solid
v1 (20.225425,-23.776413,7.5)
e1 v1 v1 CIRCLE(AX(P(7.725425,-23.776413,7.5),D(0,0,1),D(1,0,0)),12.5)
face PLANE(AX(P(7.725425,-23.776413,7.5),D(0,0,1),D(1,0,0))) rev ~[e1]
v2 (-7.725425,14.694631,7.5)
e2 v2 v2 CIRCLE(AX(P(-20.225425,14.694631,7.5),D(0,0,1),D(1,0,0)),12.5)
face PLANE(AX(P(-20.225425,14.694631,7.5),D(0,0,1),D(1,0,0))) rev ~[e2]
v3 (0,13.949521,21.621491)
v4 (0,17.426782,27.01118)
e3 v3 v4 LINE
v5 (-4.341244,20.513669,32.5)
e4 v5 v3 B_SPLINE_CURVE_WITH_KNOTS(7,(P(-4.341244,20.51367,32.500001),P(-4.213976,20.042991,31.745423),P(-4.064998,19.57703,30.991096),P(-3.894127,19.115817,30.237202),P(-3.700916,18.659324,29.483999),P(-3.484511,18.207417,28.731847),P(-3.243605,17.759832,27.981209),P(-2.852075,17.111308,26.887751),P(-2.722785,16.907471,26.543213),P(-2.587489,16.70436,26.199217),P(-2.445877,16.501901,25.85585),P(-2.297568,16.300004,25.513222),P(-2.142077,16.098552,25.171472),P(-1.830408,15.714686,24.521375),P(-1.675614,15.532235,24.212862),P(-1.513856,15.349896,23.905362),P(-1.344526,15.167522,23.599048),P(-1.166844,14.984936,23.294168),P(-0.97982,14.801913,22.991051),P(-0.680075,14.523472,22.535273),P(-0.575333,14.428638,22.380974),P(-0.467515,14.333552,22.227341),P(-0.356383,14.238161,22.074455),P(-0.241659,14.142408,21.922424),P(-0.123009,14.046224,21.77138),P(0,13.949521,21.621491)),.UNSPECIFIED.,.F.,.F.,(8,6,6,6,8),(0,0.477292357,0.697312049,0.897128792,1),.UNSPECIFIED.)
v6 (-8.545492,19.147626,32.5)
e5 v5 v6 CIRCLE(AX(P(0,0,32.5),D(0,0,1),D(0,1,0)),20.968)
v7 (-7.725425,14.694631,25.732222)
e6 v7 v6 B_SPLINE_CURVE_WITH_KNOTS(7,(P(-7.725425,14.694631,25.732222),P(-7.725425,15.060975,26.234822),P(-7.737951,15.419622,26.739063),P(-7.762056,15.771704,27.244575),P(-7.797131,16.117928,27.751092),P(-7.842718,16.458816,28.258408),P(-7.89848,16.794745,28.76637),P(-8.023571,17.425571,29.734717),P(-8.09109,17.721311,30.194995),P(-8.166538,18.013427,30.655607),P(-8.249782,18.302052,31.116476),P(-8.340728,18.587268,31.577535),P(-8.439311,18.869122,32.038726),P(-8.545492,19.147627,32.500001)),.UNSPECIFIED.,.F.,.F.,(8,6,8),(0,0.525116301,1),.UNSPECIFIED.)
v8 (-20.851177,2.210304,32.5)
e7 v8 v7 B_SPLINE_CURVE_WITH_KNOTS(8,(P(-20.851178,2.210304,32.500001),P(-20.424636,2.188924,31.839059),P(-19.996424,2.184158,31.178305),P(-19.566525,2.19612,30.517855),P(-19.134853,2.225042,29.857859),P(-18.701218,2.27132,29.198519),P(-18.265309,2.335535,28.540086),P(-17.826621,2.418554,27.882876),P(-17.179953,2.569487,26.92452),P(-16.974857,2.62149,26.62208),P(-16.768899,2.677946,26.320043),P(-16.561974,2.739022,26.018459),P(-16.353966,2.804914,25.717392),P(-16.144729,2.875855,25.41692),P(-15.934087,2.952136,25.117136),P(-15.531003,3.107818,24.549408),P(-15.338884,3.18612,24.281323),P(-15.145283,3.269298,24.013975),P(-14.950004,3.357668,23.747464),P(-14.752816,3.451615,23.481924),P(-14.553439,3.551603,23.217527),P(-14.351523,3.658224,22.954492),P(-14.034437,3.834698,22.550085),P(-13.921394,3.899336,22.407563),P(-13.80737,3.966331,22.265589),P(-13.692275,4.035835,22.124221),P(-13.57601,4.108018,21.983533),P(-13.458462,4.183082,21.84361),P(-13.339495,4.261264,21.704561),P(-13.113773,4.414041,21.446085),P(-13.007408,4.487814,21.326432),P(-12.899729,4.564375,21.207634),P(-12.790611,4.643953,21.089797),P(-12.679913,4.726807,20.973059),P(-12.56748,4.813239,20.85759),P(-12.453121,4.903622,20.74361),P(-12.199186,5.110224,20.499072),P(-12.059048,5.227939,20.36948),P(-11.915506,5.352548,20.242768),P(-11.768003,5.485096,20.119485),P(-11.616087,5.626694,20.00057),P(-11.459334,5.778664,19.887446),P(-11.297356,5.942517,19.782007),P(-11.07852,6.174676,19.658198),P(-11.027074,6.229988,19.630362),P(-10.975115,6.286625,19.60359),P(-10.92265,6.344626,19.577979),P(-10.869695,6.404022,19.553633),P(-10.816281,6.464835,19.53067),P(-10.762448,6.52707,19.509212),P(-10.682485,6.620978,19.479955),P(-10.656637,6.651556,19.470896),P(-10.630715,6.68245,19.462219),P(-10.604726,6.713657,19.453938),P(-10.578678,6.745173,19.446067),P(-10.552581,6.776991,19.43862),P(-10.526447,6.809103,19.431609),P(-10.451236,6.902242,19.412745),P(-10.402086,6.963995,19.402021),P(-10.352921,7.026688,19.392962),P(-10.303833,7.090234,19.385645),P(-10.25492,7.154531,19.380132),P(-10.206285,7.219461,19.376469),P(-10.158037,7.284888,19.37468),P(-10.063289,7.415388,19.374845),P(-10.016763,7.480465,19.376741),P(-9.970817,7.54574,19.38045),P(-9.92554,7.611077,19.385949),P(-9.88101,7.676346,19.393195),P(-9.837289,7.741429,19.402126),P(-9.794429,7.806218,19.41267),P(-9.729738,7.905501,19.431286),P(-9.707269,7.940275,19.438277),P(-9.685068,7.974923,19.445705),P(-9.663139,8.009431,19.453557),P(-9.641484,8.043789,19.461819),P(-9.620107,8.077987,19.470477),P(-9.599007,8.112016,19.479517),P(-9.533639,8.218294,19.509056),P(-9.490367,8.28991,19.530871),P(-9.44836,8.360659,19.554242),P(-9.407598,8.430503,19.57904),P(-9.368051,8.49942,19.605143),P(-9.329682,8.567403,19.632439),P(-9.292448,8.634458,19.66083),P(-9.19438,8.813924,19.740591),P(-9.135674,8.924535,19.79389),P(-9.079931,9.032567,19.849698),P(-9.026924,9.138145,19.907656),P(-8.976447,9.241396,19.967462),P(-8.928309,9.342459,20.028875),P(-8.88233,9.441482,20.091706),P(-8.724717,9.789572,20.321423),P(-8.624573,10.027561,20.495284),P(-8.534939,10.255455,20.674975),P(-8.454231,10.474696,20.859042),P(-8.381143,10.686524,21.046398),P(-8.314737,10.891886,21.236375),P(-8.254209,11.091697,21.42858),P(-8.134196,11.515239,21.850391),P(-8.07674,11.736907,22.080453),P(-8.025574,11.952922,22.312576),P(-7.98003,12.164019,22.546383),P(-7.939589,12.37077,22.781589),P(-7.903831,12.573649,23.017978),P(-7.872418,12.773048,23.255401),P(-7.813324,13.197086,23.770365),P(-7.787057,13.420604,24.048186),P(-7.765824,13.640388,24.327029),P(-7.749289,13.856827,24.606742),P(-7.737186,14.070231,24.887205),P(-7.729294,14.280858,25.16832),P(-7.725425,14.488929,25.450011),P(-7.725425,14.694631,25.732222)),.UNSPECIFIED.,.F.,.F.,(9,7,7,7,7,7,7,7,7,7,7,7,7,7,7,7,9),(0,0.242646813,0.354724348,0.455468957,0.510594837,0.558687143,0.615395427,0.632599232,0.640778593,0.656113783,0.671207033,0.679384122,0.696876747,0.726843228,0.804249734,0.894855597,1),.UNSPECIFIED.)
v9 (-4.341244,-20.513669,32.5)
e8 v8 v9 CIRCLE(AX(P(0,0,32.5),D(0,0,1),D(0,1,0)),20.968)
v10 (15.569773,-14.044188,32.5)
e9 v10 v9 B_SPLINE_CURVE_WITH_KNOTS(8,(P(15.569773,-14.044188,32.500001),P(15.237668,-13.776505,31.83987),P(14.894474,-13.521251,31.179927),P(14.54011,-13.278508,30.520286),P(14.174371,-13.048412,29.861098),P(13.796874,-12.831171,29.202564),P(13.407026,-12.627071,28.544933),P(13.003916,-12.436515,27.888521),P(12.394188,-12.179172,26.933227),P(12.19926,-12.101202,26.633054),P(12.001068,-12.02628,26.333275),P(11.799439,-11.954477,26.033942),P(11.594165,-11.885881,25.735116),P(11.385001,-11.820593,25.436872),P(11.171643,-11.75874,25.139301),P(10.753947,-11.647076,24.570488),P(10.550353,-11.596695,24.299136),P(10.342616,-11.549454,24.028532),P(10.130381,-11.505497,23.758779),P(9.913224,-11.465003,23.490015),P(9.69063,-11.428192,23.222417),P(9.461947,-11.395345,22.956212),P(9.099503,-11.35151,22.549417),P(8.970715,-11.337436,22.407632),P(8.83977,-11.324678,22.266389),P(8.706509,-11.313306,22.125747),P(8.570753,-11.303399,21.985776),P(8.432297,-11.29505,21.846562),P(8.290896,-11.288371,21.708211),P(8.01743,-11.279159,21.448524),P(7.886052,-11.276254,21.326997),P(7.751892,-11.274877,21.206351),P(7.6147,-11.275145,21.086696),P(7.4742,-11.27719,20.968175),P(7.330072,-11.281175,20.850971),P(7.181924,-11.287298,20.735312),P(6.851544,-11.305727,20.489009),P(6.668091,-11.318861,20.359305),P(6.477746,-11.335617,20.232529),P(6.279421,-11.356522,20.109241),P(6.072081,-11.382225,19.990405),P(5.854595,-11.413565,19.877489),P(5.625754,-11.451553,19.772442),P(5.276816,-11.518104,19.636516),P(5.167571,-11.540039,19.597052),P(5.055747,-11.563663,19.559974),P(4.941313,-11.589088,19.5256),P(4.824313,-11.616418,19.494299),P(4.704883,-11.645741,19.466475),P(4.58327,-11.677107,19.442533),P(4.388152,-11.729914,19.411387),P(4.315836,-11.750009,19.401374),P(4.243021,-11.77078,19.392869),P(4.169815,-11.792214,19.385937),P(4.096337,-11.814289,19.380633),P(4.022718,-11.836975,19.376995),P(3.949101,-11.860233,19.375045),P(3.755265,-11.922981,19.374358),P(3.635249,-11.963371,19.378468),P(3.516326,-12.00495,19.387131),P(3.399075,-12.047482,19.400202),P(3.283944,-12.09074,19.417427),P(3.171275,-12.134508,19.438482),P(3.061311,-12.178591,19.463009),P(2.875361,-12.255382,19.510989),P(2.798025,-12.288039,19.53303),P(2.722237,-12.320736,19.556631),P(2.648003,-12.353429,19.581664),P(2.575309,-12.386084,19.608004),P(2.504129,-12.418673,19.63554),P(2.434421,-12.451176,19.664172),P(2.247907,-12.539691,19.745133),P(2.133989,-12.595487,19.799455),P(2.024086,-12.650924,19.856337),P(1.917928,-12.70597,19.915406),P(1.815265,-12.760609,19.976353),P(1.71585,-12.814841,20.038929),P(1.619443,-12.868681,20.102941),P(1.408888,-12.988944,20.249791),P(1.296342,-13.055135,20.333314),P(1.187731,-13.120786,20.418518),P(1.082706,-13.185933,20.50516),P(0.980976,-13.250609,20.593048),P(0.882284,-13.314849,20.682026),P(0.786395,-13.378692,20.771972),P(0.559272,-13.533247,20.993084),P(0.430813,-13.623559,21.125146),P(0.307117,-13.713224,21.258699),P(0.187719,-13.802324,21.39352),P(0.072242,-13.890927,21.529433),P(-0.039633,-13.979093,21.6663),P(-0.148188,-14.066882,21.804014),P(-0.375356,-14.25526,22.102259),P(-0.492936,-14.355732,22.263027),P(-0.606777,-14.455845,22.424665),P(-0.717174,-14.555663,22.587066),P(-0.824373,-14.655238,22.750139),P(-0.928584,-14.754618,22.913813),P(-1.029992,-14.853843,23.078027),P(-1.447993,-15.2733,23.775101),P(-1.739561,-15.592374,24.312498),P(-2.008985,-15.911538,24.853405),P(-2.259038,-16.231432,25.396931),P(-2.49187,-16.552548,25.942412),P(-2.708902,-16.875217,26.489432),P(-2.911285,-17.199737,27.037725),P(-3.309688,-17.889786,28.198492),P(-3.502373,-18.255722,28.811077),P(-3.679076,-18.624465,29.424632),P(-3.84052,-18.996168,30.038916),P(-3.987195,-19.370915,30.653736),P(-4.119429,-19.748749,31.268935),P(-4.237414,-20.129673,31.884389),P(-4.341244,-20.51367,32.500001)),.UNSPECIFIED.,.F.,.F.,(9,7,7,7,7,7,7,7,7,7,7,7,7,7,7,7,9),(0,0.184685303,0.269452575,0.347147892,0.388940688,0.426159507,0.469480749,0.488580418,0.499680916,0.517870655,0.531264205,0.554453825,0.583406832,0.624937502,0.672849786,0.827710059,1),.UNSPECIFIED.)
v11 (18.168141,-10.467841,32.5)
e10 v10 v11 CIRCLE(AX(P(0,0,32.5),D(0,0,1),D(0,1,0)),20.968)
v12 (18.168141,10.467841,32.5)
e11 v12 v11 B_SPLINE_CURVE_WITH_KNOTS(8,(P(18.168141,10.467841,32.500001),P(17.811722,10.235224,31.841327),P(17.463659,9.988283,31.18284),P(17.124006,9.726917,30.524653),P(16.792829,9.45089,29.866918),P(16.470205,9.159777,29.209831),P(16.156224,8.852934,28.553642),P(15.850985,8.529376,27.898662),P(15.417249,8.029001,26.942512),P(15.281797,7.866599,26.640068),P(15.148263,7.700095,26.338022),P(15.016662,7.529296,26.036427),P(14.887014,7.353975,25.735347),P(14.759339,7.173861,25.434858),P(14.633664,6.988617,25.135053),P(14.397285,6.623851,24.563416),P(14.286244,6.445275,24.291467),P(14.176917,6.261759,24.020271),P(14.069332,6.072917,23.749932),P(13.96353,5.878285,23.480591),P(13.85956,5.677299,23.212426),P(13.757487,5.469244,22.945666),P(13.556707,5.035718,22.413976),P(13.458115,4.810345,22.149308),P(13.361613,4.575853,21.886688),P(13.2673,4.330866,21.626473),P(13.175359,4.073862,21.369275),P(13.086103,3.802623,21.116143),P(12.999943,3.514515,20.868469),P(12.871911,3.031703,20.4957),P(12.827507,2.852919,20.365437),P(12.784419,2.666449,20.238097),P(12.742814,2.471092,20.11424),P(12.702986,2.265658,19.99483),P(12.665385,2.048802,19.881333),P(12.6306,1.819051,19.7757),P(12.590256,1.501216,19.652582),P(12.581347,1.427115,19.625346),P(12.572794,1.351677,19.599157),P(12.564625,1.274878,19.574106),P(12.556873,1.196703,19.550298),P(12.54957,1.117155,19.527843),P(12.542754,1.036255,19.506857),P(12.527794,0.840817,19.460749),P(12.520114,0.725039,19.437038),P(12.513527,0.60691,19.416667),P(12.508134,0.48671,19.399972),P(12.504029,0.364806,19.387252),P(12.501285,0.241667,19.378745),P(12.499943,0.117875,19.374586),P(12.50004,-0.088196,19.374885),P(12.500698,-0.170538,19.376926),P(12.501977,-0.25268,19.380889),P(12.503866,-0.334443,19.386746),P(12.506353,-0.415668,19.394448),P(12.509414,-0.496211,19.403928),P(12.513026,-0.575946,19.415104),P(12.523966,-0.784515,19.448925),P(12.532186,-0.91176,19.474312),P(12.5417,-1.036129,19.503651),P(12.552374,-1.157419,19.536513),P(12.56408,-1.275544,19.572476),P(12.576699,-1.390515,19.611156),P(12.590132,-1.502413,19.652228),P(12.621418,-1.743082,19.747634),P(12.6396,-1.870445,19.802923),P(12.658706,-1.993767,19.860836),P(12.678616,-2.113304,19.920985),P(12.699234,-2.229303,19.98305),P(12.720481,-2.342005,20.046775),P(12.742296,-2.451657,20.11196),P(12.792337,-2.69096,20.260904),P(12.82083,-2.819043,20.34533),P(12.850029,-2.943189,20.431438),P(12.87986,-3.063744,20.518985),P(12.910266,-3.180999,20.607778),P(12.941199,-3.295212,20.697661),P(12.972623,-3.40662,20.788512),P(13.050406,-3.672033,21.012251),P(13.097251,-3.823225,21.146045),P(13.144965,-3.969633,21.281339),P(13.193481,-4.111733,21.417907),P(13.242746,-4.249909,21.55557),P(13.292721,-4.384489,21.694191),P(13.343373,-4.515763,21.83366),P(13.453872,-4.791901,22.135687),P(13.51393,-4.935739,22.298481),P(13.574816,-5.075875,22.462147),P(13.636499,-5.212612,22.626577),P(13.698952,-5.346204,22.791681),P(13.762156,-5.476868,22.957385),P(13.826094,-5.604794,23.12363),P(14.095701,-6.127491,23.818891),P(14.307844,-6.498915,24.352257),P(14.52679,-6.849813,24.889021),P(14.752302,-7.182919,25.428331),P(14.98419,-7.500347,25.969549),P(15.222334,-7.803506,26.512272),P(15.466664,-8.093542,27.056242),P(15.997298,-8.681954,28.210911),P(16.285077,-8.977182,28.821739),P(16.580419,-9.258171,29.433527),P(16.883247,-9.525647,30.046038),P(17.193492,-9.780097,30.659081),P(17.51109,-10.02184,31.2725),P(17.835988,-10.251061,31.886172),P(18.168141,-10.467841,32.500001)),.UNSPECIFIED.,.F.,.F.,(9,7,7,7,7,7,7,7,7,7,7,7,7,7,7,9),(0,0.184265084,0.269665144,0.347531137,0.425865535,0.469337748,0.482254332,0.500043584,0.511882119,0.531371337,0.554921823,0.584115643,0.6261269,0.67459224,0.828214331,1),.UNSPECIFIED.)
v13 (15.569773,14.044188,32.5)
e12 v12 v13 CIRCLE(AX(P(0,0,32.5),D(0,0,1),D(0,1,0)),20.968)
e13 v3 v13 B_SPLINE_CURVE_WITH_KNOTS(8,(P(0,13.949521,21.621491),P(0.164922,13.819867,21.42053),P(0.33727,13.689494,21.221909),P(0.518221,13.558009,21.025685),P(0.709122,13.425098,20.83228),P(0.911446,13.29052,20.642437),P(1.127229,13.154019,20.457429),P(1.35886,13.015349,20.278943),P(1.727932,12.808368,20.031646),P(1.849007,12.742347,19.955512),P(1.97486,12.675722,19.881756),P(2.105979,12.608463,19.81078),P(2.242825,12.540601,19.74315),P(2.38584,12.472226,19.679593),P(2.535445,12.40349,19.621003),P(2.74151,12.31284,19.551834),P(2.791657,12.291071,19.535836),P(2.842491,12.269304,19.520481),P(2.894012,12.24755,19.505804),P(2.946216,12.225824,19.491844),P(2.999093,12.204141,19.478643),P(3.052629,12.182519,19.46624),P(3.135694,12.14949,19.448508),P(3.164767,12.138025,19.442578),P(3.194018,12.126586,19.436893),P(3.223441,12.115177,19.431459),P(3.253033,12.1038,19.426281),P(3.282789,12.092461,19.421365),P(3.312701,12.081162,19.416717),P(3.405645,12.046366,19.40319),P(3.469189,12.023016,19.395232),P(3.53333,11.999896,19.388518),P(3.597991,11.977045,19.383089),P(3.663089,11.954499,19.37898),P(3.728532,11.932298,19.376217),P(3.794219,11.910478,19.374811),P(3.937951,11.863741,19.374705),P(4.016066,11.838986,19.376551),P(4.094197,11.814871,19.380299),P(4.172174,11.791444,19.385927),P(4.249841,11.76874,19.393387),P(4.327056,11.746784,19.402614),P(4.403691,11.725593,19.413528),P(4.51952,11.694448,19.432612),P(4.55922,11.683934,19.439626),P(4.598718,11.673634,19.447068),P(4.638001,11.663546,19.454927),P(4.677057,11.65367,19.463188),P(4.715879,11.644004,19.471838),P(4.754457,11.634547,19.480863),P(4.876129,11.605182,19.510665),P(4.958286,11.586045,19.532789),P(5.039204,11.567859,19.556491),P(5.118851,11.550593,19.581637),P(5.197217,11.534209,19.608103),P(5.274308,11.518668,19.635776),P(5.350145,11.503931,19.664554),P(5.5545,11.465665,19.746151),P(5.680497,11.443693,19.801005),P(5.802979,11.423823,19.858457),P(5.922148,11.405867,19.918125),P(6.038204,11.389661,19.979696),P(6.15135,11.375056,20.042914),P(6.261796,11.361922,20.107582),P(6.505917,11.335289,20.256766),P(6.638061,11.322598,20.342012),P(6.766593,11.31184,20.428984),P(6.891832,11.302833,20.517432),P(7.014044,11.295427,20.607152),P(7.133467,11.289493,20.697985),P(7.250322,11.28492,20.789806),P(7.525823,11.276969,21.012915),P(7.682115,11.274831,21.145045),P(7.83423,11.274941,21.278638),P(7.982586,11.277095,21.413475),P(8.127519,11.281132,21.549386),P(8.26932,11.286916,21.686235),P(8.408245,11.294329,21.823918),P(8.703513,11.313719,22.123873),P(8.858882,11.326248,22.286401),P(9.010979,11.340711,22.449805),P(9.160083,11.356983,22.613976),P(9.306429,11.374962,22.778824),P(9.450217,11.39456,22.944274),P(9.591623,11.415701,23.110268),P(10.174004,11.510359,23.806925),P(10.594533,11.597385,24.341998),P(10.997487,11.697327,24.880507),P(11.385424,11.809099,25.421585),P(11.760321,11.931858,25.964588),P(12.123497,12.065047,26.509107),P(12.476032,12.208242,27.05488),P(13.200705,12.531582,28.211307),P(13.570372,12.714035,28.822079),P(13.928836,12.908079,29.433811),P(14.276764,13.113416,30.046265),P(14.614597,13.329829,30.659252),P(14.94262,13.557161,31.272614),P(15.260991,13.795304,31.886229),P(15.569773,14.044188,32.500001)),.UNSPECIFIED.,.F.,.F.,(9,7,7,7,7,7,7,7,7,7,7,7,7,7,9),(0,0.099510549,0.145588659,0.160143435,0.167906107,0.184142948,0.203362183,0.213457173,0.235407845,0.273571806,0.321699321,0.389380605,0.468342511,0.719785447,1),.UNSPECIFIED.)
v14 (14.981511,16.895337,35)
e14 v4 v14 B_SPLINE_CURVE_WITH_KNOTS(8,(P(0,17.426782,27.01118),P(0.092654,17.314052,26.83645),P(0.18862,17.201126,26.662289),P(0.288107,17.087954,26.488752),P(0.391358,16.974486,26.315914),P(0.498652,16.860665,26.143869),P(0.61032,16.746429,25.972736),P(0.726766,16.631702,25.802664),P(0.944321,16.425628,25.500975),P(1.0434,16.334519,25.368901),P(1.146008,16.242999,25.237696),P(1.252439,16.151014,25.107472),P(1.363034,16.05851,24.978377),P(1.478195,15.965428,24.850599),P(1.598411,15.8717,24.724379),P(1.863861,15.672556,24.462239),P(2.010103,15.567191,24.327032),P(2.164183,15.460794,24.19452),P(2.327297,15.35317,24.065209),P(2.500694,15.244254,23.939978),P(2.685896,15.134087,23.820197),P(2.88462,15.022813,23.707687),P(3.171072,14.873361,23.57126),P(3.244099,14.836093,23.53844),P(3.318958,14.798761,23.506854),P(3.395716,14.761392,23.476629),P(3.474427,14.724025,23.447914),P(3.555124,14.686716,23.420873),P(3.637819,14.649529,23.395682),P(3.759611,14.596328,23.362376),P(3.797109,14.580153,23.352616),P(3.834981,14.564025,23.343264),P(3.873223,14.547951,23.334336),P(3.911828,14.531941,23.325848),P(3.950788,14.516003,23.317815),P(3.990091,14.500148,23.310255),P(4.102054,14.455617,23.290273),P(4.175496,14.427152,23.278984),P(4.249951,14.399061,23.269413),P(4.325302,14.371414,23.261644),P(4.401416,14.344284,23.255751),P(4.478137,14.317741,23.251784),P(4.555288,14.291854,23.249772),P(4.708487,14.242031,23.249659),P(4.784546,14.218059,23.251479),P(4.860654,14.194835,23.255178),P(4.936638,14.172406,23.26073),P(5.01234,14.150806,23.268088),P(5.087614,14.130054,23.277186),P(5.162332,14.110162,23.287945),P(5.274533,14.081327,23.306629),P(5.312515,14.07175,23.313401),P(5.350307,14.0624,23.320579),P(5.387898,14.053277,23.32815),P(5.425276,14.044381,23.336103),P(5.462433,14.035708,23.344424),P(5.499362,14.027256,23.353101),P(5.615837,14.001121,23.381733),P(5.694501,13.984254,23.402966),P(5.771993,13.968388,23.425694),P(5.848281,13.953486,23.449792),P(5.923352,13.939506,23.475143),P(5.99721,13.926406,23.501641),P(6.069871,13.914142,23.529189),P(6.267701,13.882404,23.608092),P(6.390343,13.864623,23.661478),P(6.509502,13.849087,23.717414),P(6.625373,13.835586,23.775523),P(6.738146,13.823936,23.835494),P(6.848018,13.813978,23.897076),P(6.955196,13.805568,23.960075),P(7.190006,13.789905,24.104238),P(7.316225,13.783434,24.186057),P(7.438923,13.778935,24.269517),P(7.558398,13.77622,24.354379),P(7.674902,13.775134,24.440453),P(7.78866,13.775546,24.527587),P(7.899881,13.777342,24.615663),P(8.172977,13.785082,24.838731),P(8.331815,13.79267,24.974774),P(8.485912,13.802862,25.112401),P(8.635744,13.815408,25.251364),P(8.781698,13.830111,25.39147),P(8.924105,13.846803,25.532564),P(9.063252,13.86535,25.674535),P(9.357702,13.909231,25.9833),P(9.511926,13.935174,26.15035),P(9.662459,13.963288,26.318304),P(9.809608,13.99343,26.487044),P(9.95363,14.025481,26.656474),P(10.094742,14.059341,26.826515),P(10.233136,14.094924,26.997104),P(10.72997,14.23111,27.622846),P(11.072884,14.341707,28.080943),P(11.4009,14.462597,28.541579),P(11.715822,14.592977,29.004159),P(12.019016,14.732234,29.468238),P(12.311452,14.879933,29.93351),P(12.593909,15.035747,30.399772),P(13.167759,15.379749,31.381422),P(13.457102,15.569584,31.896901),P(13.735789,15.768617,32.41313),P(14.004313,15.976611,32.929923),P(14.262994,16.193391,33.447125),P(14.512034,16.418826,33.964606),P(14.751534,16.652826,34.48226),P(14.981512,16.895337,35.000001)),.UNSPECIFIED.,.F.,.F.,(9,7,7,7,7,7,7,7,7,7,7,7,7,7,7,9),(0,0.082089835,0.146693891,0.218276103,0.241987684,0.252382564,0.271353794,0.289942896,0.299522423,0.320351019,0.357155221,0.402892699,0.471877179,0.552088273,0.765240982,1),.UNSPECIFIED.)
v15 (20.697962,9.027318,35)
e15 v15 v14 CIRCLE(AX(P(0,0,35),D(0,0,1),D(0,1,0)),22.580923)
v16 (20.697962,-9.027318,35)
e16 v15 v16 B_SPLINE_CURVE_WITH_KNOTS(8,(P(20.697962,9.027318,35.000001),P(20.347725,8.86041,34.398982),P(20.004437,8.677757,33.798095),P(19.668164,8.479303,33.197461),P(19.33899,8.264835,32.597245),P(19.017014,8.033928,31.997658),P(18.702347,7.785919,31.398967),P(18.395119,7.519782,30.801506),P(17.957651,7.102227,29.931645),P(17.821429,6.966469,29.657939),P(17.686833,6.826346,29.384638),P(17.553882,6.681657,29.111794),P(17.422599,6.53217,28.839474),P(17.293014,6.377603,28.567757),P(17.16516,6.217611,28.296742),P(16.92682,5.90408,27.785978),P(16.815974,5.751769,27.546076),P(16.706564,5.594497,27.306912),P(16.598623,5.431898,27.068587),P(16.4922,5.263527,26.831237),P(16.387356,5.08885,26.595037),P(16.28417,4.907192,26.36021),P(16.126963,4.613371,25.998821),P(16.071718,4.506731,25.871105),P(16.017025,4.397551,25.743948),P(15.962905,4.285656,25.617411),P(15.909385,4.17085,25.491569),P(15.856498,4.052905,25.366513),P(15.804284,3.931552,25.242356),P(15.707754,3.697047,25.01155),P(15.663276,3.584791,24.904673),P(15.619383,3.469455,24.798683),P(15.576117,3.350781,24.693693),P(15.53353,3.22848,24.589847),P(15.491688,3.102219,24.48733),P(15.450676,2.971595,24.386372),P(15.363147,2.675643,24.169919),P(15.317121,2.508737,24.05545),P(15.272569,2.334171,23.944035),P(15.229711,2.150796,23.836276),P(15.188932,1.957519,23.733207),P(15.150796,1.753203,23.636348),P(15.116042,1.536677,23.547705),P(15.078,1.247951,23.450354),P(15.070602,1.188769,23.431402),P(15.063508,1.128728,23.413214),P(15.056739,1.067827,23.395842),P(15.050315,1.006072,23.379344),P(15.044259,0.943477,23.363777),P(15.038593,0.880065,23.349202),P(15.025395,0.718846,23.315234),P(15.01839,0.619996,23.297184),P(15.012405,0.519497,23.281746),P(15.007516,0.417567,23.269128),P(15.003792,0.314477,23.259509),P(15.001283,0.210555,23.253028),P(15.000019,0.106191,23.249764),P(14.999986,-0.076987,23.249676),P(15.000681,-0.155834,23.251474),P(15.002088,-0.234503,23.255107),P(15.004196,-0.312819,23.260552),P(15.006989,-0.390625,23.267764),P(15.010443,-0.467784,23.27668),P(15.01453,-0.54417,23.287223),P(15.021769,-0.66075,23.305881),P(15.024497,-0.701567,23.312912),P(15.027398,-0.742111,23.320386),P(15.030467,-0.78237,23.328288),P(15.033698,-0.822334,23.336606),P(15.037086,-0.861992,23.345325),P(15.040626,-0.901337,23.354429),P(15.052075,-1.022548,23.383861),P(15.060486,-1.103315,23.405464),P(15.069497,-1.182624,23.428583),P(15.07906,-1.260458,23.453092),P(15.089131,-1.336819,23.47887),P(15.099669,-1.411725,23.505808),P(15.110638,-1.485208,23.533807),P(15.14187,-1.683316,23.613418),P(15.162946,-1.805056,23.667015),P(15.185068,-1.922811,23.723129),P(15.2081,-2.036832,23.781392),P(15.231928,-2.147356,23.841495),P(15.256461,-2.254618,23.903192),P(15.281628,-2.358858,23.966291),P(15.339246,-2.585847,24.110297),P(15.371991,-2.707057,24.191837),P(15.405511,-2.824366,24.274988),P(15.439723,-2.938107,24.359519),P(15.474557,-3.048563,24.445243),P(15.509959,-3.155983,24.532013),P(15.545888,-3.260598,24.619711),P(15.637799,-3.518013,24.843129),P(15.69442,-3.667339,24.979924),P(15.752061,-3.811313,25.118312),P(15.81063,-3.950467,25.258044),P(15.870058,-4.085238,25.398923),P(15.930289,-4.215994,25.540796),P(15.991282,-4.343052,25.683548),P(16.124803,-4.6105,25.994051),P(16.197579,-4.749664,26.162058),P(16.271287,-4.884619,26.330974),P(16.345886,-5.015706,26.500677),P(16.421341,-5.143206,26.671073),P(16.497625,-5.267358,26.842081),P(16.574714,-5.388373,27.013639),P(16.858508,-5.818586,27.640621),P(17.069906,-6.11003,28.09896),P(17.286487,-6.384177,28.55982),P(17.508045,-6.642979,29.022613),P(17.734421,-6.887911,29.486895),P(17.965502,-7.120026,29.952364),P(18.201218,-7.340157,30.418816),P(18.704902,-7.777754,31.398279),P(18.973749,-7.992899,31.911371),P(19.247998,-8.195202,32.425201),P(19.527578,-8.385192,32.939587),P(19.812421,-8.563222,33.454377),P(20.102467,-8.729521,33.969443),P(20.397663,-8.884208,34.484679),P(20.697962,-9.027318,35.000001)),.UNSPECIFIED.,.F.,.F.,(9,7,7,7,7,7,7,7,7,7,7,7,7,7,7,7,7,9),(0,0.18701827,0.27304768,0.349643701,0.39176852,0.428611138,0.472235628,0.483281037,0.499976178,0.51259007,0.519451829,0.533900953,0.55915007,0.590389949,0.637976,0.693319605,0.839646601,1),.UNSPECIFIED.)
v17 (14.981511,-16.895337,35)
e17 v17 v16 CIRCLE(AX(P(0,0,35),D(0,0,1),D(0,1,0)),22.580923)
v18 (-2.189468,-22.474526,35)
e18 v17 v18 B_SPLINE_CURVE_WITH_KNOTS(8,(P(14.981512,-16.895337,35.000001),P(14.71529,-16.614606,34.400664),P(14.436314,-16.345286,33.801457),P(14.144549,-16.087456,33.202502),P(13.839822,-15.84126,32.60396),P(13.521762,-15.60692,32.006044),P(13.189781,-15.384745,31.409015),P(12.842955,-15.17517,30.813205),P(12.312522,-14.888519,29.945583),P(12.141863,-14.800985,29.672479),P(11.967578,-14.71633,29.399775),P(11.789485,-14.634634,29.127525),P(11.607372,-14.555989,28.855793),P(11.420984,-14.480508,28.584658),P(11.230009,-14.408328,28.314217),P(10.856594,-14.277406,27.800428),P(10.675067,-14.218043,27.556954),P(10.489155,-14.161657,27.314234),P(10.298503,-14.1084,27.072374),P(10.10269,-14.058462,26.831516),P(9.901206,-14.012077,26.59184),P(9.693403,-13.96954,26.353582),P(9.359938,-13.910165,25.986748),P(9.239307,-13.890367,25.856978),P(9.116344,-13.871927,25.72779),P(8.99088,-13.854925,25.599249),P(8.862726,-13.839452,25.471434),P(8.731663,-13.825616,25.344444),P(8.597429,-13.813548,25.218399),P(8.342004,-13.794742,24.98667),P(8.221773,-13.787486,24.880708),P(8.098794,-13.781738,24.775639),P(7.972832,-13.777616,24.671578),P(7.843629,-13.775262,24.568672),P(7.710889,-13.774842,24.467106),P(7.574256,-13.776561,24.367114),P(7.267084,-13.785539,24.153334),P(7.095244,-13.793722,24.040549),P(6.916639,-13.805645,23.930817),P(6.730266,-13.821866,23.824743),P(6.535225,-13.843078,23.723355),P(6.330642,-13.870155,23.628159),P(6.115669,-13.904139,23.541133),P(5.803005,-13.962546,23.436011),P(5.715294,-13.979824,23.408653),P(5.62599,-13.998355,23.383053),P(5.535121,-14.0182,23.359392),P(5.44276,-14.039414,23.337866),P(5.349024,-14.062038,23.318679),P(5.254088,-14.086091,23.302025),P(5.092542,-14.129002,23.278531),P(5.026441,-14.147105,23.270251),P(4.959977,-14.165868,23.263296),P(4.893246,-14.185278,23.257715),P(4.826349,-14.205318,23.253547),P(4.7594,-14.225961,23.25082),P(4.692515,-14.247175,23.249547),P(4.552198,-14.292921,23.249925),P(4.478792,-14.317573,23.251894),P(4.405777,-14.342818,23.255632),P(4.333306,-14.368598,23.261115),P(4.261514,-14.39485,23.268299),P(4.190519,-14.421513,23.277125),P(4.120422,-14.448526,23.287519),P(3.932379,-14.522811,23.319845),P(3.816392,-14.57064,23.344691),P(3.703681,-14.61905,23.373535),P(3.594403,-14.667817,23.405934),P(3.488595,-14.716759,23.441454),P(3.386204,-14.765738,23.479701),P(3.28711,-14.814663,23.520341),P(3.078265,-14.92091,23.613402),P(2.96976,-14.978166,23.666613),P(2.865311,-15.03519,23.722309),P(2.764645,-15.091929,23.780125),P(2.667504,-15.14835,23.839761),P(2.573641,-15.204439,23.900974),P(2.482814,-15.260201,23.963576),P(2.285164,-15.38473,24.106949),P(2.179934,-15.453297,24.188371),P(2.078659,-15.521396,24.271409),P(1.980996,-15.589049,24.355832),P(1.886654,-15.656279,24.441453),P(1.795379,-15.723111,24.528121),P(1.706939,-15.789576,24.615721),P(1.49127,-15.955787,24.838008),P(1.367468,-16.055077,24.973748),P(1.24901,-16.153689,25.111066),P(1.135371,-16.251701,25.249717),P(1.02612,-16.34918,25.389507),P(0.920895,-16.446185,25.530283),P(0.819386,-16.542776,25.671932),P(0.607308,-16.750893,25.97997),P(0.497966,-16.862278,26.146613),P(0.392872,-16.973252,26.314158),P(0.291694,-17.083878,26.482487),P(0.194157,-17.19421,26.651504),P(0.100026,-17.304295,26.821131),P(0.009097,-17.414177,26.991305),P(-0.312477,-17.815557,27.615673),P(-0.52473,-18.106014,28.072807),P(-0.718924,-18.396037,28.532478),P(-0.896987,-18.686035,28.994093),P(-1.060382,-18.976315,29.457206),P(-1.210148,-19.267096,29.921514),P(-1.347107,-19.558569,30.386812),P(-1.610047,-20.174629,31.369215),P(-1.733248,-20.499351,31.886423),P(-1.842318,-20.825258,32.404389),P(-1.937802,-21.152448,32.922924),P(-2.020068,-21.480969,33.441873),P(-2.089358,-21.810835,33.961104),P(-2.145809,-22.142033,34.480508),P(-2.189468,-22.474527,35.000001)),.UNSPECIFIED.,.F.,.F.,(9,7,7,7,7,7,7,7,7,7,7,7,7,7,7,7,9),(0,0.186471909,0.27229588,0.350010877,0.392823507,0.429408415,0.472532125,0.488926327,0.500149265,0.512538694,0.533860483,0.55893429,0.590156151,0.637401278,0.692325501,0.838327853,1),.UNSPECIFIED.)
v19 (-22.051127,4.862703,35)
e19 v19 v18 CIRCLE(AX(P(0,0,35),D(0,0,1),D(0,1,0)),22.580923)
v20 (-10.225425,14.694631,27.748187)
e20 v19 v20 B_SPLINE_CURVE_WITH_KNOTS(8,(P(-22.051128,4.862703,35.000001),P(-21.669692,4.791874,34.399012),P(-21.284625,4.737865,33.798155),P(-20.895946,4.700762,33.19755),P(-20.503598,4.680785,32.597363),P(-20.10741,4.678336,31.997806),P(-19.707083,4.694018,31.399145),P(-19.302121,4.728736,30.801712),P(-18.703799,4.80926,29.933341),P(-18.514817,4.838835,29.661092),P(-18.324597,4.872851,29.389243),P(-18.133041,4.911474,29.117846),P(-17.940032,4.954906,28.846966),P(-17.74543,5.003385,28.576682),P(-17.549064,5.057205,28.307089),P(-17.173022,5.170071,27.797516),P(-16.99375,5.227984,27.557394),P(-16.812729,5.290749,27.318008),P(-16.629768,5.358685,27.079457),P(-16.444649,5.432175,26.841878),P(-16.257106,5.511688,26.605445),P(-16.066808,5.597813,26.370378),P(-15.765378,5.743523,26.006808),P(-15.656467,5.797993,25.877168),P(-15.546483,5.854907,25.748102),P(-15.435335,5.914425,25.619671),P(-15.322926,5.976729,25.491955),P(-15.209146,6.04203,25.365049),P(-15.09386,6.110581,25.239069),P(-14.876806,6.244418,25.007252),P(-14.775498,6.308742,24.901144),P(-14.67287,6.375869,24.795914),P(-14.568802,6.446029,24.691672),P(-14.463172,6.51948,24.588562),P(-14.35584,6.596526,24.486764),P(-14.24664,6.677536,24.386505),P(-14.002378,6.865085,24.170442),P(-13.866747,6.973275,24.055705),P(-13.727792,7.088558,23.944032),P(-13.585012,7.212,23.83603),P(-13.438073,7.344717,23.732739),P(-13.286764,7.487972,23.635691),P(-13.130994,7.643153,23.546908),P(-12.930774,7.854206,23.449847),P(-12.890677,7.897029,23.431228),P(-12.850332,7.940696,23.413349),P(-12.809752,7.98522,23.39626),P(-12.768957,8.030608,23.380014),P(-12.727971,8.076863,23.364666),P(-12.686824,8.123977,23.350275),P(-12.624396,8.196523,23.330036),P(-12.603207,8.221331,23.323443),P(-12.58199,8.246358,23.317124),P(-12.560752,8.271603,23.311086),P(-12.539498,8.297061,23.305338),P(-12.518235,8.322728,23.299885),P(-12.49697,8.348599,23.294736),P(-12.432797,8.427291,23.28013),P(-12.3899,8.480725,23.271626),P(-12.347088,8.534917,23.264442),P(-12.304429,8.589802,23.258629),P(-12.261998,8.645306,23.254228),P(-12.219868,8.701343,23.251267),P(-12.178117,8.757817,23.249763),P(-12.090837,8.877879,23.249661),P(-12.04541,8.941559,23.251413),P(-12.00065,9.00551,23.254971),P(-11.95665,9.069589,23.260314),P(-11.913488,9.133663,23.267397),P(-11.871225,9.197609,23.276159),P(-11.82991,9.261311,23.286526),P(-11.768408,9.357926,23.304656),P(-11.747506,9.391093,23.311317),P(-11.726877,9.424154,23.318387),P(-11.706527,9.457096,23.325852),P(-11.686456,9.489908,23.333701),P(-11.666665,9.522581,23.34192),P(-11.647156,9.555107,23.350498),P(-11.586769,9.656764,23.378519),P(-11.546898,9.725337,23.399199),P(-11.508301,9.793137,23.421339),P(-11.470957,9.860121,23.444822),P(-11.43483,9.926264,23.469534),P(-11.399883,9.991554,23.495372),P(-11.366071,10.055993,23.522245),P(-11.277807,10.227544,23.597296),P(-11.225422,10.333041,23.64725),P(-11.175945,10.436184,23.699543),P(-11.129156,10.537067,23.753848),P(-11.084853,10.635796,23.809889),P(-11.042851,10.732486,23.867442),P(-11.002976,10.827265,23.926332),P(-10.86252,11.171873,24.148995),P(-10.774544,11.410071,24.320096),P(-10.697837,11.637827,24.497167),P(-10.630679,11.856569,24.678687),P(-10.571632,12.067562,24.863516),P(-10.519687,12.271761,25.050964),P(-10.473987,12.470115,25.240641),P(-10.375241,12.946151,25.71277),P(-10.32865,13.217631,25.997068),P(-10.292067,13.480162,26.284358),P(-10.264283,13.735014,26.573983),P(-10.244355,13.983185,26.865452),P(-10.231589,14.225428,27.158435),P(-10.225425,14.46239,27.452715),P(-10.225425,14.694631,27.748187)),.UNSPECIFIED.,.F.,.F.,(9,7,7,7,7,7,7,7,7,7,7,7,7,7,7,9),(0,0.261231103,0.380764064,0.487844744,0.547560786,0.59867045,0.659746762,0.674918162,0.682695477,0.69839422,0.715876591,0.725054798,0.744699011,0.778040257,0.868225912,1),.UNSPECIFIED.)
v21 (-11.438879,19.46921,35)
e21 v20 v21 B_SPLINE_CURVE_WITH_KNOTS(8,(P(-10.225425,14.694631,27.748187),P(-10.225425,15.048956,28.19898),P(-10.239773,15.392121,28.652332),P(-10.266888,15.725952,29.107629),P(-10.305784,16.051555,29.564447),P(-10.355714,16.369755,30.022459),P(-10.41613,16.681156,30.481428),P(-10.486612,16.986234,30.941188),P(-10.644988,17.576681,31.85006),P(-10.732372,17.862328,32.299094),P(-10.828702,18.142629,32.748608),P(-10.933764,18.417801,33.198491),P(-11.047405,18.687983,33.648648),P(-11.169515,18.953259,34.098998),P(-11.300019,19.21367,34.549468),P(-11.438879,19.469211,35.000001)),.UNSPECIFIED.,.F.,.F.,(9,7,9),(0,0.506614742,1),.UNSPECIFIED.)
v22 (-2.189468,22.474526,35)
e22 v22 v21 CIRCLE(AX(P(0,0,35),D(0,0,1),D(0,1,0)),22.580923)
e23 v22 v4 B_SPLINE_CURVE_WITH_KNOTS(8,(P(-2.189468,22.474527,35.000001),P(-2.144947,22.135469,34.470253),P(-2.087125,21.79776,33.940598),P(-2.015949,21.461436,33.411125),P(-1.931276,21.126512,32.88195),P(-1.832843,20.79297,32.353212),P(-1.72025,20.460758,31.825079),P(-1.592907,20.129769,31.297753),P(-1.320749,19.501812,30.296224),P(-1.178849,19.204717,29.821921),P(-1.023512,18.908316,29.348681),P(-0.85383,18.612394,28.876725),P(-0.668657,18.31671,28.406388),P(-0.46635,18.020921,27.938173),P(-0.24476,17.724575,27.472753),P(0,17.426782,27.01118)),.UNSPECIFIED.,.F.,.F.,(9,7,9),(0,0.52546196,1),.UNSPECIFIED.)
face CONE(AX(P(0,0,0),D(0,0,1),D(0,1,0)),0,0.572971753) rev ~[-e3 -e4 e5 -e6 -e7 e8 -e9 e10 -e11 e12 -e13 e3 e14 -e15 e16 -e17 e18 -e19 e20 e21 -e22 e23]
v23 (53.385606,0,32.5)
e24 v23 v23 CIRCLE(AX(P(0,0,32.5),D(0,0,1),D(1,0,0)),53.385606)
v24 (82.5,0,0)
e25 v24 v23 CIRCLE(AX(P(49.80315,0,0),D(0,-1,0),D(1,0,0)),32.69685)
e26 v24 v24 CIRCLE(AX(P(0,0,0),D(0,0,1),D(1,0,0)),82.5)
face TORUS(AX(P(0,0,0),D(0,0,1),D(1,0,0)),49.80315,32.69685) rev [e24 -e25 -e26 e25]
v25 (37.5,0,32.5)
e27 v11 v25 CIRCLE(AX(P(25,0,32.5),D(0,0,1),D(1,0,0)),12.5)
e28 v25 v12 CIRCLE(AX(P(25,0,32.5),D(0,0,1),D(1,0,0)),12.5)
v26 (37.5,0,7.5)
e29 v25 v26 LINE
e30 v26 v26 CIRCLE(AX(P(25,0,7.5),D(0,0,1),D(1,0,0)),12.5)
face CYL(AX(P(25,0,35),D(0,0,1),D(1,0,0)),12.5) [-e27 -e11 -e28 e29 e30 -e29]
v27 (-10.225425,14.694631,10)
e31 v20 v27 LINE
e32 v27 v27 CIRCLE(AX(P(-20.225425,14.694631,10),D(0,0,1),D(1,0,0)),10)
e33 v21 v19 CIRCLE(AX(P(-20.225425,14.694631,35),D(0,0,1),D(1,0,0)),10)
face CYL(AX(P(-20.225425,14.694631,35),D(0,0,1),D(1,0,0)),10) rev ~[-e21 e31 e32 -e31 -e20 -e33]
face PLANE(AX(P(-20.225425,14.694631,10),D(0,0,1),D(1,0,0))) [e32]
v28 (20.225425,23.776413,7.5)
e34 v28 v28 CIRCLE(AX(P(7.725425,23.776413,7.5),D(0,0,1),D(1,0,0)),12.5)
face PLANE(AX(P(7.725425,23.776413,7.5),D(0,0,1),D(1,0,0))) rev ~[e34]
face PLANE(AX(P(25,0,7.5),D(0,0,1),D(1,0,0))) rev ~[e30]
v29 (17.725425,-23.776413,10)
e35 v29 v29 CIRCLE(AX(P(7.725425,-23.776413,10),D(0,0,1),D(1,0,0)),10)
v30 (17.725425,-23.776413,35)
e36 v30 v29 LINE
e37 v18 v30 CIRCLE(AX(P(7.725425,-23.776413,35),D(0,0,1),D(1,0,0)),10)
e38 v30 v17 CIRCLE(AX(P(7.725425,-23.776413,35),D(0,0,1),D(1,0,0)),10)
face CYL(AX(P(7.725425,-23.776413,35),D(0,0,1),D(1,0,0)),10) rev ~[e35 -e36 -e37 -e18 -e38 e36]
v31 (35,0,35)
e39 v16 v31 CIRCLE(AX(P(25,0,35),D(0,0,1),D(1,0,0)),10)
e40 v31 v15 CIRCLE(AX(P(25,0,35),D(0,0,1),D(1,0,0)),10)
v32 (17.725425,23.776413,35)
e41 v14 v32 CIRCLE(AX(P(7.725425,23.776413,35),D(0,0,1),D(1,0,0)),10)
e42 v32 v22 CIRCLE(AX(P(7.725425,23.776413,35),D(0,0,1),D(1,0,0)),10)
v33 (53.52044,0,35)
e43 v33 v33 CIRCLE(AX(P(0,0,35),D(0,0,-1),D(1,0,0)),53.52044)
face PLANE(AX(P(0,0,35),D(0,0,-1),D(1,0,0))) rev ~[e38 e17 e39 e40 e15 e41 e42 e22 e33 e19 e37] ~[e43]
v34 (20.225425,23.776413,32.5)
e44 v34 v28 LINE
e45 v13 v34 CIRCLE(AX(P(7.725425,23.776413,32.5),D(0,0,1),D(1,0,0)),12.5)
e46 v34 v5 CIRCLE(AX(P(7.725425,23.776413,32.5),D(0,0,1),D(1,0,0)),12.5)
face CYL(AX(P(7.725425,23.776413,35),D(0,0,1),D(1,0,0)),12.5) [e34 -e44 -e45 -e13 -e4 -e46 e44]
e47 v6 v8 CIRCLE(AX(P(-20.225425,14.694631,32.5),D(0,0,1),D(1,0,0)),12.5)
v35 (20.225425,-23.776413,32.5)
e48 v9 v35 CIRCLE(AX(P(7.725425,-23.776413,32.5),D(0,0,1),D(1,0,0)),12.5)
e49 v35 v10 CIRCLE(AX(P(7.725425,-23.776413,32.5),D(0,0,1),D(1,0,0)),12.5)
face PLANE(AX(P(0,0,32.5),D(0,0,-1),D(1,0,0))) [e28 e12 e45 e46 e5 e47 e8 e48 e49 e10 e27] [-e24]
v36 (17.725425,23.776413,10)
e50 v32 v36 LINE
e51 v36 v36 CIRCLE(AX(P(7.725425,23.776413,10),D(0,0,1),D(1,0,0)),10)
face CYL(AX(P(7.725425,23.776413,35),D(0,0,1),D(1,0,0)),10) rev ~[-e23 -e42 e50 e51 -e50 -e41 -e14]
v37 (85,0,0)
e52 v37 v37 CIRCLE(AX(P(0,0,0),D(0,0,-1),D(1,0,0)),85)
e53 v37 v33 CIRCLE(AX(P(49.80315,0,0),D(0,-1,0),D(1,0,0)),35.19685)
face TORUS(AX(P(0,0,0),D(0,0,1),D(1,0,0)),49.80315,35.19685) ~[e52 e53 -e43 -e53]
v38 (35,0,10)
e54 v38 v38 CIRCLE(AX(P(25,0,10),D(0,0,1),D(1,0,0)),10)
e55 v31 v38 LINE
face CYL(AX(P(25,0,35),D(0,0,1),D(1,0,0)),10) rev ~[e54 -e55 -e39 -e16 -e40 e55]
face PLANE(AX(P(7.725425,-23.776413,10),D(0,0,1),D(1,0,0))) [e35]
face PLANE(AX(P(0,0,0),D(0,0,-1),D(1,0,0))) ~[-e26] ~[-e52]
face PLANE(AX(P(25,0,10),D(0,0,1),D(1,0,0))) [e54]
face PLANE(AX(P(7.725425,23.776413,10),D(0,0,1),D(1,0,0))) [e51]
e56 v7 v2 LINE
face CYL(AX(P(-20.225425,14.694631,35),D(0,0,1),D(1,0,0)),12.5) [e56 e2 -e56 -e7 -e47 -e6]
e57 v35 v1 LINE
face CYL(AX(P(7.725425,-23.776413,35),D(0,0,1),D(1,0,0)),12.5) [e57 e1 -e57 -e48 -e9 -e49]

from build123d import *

# Parameters (mm, degrees)
F2_R     = 10
F3_DEPTH = 25.0000003725
F4_T     = -2.5


with BuildPart() as f1:
    # F0 (on Front) → F1 (revolve)
    with BuildSketch(Plane.XZ):
        with BuildLine():
            Line((0, 35), (0, 0))
            Line((0, 0), (85, 0))
            ThreePointArc((85, 0), (75.9723603269, 23.5370065806), (53.520439725, 35))
            Line((53.520439725, 35), (0, 35))
        make_face()
    revolve(axis=Axis((0, 0, 17.5), (0, 0, -1)))

    # F2 (on face) → F3 (cut)
    with BuildSketch(Plane.XY.offset(35)):
        with Locations((7.7254248594, 23.7764129074)):
            Circle(F2_R)
        with Locations((25, 0)):
            Circle(F2_R)
        with Locations((7.7254248594, -23.7764129074)):
            Circle(F2_R)
        with Locations((-20.2254248594, 14.6946313073)):
            Circle(F2_R)
    extrude(amount=-F3_DEPTH, mode=Mode.SUBTRACT)

    # F4
    f4_openings = [f1.faces().sort_by_distance(p)[0] for p in [
        (0, 0, 0),
    ]]
    offset(amount=F4_T, openings=f4_openings, kind=Kind.INTERSECTION)

    # F5 (on Right) → F6 (revolve, cut)
    with BuildSketch(Plane.YZ):
        Polygon((40.5379161239, 62.8329962492), (0, 62.8329962492), (0, 0), align=None)
    revolve(axis=Axis((0, 0, 31.4164981246), (0, 0, 1)), mode=Mode.SUBTRACT)


solid = f1.part
